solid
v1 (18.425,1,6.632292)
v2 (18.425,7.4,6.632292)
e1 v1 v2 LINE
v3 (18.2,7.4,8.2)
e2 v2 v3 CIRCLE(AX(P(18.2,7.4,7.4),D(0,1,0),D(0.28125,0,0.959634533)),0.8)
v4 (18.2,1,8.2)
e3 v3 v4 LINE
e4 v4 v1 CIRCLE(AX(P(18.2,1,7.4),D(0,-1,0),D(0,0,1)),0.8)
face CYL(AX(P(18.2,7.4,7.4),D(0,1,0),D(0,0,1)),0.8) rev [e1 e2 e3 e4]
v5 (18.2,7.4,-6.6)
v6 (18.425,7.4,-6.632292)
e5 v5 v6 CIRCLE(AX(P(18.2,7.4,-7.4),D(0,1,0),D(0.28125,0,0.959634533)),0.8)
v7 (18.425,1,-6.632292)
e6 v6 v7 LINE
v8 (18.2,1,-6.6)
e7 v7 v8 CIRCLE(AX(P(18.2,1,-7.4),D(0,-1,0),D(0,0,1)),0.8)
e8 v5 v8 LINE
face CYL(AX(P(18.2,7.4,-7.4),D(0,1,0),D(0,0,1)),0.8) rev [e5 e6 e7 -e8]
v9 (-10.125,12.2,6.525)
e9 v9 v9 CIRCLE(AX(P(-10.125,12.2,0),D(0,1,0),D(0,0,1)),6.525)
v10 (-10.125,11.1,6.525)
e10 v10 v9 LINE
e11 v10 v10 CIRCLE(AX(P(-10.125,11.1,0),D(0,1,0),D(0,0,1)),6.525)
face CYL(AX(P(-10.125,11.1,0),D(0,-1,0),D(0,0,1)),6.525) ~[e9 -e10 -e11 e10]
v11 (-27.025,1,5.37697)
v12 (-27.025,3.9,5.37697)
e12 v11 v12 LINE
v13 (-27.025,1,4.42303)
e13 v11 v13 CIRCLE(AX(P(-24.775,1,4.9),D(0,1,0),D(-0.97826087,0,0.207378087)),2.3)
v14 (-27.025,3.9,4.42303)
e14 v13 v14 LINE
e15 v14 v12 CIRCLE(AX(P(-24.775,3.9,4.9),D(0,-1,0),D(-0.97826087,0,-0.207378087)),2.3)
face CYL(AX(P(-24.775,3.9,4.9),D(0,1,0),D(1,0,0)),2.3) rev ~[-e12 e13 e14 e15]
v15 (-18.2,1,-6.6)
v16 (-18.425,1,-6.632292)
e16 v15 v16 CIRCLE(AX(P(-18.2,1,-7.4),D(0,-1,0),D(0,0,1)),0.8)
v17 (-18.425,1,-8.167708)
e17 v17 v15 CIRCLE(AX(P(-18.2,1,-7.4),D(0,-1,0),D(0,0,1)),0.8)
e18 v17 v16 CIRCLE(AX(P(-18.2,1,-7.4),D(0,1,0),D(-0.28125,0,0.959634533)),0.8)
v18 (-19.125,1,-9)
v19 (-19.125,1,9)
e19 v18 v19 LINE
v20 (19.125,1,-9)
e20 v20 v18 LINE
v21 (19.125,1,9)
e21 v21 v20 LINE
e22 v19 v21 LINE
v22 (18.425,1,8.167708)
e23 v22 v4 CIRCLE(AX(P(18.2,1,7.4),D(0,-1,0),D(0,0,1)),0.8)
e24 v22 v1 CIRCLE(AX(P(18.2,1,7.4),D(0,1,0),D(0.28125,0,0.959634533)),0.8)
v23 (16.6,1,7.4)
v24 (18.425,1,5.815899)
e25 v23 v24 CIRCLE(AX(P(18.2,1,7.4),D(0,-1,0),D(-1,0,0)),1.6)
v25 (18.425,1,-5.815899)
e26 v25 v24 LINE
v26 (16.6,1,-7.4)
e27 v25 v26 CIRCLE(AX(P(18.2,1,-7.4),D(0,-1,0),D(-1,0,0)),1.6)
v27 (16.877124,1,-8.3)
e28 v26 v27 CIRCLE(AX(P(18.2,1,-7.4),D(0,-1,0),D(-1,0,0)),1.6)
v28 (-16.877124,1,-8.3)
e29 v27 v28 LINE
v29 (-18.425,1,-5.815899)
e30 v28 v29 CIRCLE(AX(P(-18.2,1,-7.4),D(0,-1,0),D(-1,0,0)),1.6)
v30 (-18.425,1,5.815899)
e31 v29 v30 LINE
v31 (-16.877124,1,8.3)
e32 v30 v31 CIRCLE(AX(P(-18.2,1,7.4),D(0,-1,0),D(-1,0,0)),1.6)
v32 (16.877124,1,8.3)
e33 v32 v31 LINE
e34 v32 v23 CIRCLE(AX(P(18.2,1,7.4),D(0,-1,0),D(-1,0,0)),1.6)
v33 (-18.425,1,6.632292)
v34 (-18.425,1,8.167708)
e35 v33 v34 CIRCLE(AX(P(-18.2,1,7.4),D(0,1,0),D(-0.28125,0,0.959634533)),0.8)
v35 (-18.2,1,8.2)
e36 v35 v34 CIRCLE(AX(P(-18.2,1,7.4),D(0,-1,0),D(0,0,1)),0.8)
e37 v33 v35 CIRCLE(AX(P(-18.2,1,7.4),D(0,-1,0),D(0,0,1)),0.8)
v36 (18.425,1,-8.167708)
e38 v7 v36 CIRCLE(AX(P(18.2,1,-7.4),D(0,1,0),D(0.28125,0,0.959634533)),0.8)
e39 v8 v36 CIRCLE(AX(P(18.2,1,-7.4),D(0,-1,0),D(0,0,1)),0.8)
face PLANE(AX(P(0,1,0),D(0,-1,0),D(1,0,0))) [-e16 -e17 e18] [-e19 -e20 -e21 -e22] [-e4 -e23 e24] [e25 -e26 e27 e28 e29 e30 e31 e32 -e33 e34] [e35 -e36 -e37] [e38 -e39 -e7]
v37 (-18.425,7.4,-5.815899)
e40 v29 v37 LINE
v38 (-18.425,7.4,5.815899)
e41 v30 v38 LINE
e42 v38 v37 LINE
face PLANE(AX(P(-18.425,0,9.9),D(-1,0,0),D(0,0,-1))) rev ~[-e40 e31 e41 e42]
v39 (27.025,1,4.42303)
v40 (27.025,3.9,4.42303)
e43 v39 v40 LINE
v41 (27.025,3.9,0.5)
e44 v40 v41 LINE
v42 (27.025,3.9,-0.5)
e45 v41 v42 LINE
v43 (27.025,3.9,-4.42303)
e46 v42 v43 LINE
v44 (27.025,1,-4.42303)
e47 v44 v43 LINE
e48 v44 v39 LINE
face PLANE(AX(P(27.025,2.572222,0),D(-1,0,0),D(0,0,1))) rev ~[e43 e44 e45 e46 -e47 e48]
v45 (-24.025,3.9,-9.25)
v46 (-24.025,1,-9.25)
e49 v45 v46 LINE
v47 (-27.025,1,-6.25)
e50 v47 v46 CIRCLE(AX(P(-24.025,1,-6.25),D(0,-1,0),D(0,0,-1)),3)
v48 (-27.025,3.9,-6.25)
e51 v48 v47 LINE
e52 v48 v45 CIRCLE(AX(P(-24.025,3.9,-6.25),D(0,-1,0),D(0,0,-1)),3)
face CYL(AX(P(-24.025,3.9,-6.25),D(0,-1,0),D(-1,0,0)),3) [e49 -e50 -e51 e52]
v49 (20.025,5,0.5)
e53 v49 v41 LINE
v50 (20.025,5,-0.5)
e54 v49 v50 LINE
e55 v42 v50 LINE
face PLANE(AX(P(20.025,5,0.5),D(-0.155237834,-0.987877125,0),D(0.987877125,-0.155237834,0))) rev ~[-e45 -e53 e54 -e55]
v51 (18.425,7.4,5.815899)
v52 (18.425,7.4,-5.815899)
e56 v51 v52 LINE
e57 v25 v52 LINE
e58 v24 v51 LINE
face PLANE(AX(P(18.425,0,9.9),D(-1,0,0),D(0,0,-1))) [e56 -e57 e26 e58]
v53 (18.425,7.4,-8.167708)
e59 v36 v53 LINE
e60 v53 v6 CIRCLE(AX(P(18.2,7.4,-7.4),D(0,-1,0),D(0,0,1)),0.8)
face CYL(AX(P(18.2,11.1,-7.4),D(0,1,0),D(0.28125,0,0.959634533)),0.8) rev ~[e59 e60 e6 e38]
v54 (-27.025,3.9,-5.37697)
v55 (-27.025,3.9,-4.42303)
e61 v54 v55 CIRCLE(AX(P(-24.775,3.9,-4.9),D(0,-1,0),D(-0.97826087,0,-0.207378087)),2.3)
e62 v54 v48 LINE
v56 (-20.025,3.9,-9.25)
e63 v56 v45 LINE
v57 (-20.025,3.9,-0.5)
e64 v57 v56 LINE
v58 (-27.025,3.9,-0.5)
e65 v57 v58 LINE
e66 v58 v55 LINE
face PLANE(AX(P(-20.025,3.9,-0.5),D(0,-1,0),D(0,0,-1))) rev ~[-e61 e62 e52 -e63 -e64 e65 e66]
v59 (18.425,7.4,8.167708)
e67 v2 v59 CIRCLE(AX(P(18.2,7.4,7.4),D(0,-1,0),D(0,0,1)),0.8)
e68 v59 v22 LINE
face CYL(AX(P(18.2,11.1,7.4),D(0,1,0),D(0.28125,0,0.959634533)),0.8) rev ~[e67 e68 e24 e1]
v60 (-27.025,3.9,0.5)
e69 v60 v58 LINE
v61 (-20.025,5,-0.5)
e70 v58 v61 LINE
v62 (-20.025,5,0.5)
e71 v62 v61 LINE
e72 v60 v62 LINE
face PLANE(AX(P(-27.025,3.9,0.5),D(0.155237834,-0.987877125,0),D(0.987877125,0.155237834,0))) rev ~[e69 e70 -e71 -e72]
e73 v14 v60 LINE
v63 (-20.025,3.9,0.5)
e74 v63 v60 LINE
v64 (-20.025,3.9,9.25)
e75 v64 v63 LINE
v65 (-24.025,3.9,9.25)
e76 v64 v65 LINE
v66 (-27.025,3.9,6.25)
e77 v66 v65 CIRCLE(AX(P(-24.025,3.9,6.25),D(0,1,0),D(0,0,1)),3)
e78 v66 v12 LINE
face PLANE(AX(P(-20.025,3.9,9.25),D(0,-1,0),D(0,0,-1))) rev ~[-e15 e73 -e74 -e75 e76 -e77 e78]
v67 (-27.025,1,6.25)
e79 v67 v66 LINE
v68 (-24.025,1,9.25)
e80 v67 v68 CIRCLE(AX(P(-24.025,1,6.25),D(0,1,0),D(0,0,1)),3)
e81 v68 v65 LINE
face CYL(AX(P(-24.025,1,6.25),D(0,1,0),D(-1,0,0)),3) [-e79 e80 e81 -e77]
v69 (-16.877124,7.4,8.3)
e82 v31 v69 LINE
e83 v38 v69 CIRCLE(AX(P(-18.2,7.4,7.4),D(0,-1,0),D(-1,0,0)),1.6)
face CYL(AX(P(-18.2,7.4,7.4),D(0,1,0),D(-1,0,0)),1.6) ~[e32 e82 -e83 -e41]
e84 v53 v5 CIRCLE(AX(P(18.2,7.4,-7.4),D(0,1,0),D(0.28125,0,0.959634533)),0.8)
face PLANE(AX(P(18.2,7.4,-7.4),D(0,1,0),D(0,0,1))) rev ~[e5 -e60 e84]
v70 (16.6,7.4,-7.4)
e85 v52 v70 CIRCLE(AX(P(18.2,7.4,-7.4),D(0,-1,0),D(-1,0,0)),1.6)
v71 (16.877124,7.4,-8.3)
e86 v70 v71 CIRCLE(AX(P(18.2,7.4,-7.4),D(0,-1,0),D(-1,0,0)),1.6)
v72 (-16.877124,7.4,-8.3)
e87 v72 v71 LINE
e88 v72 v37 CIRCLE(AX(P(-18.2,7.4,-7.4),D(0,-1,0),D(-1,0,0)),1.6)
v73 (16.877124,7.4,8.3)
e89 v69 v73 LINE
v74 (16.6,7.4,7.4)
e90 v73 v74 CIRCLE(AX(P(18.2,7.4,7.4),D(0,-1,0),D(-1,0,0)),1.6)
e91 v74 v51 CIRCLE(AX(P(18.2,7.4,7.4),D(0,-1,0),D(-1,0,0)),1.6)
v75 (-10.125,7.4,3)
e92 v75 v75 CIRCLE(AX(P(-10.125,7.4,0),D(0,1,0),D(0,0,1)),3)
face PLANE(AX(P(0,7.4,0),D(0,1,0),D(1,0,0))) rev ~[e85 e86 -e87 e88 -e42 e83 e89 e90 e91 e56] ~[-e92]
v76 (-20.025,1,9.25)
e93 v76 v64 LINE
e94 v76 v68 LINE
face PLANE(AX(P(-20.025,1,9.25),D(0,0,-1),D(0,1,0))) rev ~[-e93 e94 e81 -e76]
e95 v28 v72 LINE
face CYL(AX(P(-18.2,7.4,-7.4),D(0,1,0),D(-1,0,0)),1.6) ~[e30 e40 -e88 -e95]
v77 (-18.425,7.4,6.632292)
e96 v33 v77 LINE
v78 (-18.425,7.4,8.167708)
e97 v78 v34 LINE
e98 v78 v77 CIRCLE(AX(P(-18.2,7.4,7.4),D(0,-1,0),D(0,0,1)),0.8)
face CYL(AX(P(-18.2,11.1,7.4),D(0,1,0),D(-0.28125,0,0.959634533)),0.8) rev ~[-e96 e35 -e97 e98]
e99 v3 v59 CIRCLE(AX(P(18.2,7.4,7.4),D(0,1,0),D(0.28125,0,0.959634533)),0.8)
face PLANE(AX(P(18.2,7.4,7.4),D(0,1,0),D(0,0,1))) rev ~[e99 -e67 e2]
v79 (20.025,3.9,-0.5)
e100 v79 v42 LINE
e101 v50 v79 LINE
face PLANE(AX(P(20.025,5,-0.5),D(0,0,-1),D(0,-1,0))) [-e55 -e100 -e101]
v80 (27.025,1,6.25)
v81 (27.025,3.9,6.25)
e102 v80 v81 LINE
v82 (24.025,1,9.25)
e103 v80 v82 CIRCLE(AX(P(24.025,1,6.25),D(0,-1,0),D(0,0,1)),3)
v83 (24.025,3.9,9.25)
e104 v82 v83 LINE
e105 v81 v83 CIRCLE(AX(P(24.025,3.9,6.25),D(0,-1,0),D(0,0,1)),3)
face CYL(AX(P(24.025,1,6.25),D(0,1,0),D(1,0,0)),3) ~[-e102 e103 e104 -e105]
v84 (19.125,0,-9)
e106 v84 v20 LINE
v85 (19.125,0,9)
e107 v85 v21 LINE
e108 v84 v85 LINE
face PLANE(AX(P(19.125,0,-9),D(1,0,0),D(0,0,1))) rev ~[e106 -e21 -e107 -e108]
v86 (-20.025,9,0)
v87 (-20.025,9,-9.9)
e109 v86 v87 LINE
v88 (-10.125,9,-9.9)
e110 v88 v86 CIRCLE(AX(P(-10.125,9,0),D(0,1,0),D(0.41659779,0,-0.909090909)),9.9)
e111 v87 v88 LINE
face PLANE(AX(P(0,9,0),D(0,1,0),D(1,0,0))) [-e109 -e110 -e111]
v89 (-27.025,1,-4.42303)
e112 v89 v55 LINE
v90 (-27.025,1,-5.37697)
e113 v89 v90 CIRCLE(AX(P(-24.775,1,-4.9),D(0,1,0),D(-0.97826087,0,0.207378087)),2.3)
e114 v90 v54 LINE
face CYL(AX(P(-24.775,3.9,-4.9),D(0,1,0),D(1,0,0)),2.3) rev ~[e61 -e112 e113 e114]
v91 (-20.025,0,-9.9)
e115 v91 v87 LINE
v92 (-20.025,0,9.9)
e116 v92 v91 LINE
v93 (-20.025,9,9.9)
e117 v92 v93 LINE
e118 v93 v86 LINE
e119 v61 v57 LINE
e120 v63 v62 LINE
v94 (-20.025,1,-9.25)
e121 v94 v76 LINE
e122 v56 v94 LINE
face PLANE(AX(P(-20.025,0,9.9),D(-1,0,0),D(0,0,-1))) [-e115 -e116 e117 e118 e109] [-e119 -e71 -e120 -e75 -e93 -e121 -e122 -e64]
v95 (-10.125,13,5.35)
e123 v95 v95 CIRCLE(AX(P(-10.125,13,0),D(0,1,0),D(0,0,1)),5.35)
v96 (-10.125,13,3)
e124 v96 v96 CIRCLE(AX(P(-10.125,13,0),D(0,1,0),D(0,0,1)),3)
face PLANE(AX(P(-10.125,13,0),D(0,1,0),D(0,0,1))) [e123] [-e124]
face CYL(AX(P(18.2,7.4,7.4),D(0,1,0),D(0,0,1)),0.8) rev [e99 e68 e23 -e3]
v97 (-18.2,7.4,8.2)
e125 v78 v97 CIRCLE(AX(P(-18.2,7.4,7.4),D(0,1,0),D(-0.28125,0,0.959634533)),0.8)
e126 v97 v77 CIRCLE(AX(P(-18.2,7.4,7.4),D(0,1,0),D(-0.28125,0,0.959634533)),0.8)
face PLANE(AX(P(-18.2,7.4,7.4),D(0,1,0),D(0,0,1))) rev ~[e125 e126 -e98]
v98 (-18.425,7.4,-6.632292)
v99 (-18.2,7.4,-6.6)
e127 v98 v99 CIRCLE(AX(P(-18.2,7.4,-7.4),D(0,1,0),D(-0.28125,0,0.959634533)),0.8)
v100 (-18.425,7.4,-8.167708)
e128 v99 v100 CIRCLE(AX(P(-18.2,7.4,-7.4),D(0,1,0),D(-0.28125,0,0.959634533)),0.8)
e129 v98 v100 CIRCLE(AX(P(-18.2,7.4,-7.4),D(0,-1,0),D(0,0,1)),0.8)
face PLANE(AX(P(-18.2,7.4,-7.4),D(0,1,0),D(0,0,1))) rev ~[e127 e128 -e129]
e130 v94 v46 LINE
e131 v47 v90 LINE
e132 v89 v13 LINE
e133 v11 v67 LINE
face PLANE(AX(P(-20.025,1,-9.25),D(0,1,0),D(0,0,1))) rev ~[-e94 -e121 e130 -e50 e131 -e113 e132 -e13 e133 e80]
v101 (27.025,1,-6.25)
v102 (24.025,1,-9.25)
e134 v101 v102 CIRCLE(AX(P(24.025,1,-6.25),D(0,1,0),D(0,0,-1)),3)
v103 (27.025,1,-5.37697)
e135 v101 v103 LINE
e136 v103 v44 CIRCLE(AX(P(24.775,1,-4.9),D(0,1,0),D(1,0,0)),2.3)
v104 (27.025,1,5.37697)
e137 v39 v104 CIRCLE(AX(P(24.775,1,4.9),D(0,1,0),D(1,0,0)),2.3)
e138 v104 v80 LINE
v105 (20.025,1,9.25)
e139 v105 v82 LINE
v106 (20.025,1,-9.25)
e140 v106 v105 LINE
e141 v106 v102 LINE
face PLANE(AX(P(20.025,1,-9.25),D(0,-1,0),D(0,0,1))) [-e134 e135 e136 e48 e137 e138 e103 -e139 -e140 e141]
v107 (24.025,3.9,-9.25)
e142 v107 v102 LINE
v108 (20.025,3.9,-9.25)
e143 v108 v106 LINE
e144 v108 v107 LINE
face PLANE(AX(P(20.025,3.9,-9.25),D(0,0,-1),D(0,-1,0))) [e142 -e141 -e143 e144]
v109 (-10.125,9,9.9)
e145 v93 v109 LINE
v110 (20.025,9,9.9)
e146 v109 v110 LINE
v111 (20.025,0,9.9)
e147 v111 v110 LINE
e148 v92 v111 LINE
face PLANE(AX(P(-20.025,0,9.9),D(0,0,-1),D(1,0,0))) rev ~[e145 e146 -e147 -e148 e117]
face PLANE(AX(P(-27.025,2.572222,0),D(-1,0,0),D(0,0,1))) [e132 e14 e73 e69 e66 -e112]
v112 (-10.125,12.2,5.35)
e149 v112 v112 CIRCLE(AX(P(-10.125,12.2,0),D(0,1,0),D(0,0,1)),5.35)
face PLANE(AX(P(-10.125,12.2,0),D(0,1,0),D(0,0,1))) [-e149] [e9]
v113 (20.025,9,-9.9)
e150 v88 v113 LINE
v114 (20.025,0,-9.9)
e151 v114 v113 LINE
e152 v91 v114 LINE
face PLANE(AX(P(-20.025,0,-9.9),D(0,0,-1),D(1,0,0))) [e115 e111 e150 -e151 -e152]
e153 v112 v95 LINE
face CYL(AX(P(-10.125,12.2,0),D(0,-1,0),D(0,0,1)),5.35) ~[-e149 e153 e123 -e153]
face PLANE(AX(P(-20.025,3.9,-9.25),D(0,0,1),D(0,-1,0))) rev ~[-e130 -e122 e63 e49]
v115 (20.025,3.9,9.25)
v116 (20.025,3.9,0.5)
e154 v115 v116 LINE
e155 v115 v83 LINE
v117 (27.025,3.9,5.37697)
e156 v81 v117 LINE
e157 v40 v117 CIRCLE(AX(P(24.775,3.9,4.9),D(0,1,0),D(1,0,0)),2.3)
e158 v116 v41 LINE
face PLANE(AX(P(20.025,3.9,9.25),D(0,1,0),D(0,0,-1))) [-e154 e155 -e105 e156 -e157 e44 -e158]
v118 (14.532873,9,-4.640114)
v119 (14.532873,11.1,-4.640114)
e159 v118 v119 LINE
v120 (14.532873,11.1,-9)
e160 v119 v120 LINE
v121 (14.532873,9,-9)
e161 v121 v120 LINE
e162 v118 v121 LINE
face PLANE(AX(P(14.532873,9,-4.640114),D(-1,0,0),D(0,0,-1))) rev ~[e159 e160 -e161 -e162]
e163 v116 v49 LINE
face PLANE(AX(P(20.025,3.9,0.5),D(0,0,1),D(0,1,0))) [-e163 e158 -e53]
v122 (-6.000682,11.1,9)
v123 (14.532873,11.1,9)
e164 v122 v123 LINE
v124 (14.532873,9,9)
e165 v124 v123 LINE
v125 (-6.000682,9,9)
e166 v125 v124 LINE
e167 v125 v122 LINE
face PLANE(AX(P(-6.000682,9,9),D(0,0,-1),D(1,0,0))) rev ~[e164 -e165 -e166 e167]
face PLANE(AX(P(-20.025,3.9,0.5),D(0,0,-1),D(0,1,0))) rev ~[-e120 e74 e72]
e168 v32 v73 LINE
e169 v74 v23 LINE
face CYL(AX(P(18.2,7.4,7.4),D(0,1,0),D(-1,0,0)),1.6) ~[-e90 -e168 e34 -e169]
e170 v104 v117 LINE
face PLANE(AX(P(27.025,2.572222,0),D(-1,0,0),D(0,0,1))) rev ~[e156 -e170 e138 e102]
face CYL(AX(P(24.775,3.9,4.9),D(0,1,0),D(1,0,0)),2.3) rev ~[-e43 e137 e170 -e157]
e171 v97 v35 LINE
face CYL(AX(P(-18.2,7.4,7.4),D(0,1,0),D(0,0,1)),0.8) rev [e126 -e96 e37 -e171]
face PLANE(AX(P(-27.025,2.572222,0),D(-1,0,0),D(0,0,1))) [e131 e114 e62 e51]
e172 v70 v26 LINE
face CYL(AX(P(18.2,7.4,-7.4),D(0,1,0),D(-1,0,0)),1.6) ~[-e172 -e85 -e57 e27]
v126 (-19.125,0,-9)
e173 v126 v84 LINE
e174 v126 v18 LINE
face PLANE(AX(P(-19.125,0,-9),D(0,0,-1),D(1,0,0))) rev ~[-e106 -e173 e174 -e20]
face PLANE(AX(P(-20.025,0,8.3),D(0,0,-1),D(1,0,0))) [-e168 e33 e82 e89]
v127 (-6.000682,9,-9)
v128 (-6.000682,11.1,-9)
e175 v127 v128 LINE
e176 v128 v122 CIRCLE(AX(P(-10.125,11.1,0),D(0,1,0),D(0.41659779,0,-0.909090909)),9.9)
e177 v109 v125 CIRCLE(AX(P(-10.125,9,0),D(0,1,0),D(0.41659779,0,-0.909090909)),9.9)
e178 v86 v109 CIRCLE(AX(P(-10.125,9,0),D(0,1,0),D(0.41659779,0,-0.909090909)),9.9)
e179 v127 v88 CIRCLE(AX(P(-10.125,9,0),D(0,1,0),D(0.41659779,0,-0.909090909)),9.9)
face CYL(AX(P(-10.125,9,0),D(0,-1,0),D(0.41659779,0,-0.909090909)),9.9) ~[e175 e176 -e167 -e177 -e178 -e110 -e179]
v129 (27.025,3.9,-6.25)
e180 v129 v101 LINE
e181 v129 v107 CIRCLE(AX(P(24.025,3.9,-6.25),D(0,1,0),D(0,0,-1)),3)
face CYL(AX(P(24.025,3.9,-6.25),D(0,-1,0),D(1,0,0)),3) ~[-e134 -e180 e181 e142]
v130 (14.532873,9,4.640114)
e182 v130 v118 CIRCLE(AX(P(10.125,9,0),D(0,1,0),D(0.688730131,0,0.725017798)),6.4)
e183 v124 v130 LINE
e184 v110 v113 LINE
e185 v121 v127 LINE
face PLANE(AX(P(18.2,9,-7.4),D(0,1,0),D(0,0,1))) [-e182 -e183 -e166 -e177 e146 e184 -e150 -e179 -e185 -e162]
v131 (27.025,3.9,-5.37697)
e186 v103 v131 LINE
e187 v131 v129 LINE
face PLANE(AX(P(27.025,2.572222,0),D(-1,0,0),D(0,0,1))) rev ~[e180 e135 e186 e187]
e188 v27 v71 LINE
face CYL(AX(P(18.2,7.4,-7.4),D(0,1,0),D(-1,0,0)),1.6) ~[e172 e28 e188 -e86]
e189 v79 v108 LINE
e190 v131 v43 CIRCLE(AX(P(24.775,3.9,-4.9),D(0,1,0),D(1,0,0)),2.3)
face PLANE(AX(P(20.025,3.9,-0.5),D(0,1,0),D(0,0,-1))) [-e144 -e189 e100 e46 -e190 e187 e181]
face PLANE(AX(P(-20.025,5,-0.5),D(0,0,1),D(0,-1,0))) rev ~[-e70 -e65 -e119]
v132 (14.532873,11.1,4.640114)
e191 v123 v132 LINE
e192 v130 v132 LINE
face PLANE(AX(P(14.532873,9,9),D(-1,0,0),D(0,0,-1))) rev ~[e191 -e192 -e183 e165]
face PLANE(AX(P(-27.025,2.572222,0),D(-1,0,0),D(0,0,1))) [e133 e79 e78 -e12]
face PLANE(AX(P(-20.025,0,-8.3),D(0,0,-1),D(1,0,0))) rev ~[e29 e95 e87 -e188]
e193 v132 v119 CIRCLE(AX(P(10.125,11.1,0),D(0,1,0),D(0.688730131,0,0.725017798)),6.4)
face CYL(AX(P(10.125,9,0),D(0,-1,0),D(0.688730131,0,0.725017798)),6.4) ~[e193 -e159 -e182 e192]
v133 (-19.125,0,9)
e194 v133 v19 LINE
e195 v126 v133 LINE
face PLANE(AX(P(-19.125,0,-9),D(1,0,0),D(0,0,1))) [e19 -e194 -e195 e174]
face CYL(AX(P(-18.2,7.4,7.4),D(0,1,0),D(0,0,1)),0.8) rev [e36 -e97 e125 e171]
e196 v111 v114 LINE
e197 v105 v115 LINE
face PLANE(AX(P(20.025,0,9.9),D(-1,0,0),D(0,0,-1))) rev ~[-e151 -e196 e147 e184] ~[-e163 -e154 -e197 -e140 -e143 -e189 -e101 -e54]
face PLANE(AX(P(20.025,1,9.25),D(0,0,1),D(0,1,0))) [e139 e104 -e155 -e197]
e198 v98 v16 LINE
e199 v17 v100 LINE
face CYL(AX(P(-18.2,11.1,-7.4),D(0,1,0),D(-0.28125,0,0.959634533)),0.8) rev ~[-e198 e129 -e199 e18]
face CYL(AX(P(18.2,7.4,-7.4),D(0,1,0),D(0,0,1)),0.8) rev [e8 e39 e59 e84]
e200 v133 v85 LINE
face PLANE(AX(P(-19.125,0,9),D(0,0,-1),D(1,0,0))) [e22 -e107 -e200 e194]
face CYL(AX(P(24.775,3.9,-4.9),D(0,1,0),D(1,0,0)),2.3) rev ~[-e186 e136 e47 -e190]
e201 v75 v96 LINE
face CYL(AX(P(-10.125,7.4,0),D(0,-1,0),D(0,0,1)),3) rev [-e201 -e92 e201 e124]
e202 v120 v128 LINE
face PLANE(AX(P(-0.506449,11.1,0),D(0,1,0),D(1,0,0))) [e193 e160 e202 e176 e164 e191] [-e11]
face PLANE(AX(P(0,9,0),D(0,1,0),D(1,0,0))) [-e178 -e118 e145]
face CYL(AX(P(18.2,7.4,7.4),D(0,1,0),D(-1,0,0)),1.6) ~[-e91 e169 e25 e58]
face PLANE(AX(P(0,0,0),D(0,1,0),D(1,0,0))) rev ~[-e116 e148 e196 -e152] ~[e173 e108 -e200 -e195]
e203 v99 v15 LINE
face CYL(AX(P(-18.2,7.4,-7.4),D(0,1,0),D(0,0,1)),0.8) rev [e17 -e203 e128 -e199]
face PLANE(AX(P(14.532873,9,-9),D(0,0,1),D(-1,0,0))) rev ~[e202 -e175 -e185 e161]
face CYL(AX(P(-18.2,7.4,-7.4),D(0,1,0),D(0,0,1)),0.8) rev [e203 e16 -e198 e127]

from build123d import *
from build123d.topology import SkipClean

# Parameters (mm, degrees)
SKETCH_1_W          = 40.05
SKETCH_1_H          = 19.8
EXTRUDE_1_DEPTH     = 9
SHELL_1_T           = -1.6
SKETCH_2_W          = 38.25
SKETCH_2_H          = 18
CUT_EXTRUDE_1_DEPTH = 1
EXTRUDE_2_DEPTH     = 2.1
SKETCH_4_R          = 6.525
EXTRUDE_3_DEPTH     = 1.1
SKETCH_5_R          = 5.35
EXTRUDE_4_DEPTH     = 0.8
CUT_EXTRUDE_START   = -5.6
SKETCH_6_R          = 3
CUT_EXTRUDE_2_DEPTH = 5.6
SKETCH_7_R          = 0.8
CUT_EXTRUDE_3_DEPTH = 14
SKETCH_8_R          = 1.6
SKETCH_8_R_2        = 0.8
EXTRUDE_5_DEPTH     = 6.4
SKETCH_9_R          = 0.8
EXTRUDE_6_DEPTH     = 1.6
EXTRUDE_7_DEPTH     = 7
CUT_EXTRUDE_4_DEPTH = 7
SKETCH_12_R         = 2.3
CUT_EXTRUDE_5_DEPTH = 7
EXTRUDE_8_DEPTH     = 7
SKETCH_16_R         = 2.3
CUT_EXTRUDE_6_DEPTH = 7
FILLET_1_R          = 3
CUT_EXTRUDE_7_DEPTH = 7


with BuildPart() as part:
    # Эскиз1 → Бобышка-Вытянуть1 (new body)
    with BuildSketch(Plane(origin=(0, 0, 0), x_dir=(1, 0, 0), z_dir=(0, 1, 0))):
        Rectangle(SKETCH_1_W, SKETCH_1_H)
    extrude(amount=EXTRUDE_1_DEPTH)

    # Оболочка1
    shell_1_openings = [part.faces().sort_by_distance(p)[0] for p in [
        (0, 0, 0),
    ]]
    offset(amount=SHELL_1_T, openings=shell_1_openings, kind=Kind.INTERSECTION)

    # Эскиз2 → Вырез-Вытянуть1 (cut)
    with BuildSketch(Plane.XZ):
        Rectangle(SKETCH_2_W, SKETCH_2_H)
    extrude(amount=-CUT_EXTRUDE_1_DEPTH, mode=Mode.SUBTRACT)

    # Эскиз3 → Бобышка-Вытянуть2 (add)
    with BuildSketch(Plane(origin=(0, 9, 0), x_dir=(1, 0, 0), z_dir=(0, 1, 0))):
        with BuildLine():
            Line((14.532872835, 4.640113908), (14.532872835, 9))
            Line((14.532872835, 9), (-6.000681875, 9))
            ThreePointArc((-6.000681875, 9), (-20.025, 0), (-6.000681875, -9))
            Line((-6.000681875, -9), (14.532872835, -9))
            Line((14.532872835, -9), (14.532872835, -4.640113908))
            ThreePointArc((14.532872835, -4.640113908), (16.525, 0), (14.532872835, 4.640113908))
        make_face()
    extrude(amount=EXTRUDE_2_DEPTH)

    # Эскиз4 → Бобышка-Вытянуть3 (add)
    with BuildSketch(Plane(origin=(0, 11.1, 0), x_dir=(1, 0, 0), z_dir=(0, 1, 0))):
        with Locations(Location((-10.125, 0, 0), (0, 0, 270))):
            Circle(SKETCH_4_R)
    extrude(amount=EXTRUDE_3_DEPTH)

    # Эскиз5 → Бобышка-Вытянуть4 (add)
    with BuildSketch(Plane(origin=(0, 12.2, 0), x_dir=(1, 0, 0), z_dir=(0, 1, 0))):
        with Locations(Location((-10.125, 0, 0), (0, 0, 270))):
            Circle(SKETCH_5_R)
    extrude(amount=EXTRUDE_4_DEPTH)

    # Эскиз6 → Вырез-Вытянуть2 (cut)
    with BuildSketch(Plane(origin=(0, 13, 0), x_dir=(1, 0, 0), z_dir=(0, 1, 0)).offset(CUT_EXTRUDE_START)):
        with Locations(Location((-10.125, 0, 0), (0, 0, 270))):
            Circle(SKETCH_6_R)
    extrude(amount=CUT_EXTRUDE_2_DEPTH, mode=Mode.SUBTRACT)

    # Эскиз7 → Вырез-Вытянуть3 (cut)
    with BuildSketch(Plane(origin=(0, 11.1, 0), x_dir=(1, 0, 0), z_dir=(0, 1, 0))):
        with Locations(Location((-18.2, 7.4, 0), (0, 0, 253.665177219))):
            Circle(SKETCH_7_R)
        with Locations(Location((18.2, 7.4, 0), (0, 0, 286.334822781))):
            Circle(SKETCH_7_R)
        with Locations(Location((18.2, -7.4, 0), (0, 0, 286.334822781))):
            Circle(SKETCH_7_R)
        with Locations(Location((-18.2, -7.4, 0), (0, 0, 253.665177219))):
            Circle(SKETCH_7_R)
    extrude(amount=-CUT_EXTRUDE_3_DEPTH, mode=Mode.SUBTRACT)

    # Эскиз8 → Бобышка-Вытянуть5 (add)
    # profile 1 of 4: a face of its own
    with SkipClean():  # the faces are left unmerged after this step: merging them gives an invalid solid
        with BuildSketch(Plane(origin=(0, 7.4, 0), x_dir=(-1, 0, 0), z_dir=(0, -1, 0))):
            with Locations((18.2, -7.4)):
                Circle(SKETCH_8_R)
            with Locations(Location((18.2, -7.4, 0), (0, 0, 270))):
                Circle(SKETCH_8_R_2, mode=Mode.SUBTRACT)
        # profile 2 of 4: a face of its own
        with BuildSketch(Plane(origin=(0, 7.4, 0), x_dir=(-1, 0, 0), z_dir=(0, -1, 0))):
            with Locations((18.2, 7.4)):
                Circle(SKETCH_8_R)
            with Locations(Location((18.2, 7.4, 0), (0, 0, 270))):
                Circle(SKETCH_8_R_2, mode=Mode.SUBTRACT)
        # profile 3 of 4: a face of its own
        with BuildSketch(Plane(origin=(0, 7.4, 0), x_dir=(-1, 0, 0), z_dir=(0, -1, 0))):
            with Locations((-18.2, 7.4)):
                Circle(SKETCH_8_R)
            with Locations(Location((-18.2, 7.4, 0), (0, 0, 270))):
                Circle(SKETCH_8_R_2, mode=Mode.SUBTRACT)
        # profile 4 of 4: a face of its own
        with BuildSketch(Plane(origin=(0, 7.4, 0), x_dir=(-1, 0, 0), z_dir=(0, -1, 0))):
            with Locations((-18.2, -7.4)):
                Circle(SKETCH_8_R)
            with Locations(Location((-18.2, -7.4, 0), (0, 0, 270))):
                Circle(SKETCH_8_R_2, mode=Mode.SUBTRACT)
        extrude(amount=EXTRUDE_5_DEPTH)

    # Эскиз9 → Бобышка-Вытянуть6 (add)
    with BuildSketch(Plane(origin=(0, 9, 0), x_dir=(1, 0, 0), z_dir=(0, 1, 0))):
        with Locations(Location((18.2, 7.4, 0), (0, 0, 270))):
            Circle(SKETCH_9_R)
        with Locations(Location((18.2, -7.4, 0), (0, 0, 270))):
            Circle(SKETCH_9_R)
        with Locations(Location((-18.2, -7.4, 0), (0, 0, 270))):
            Circle(SKETCH_9_R)
        with Locations(Location((-18.2, 7.4, 0), (0, 0, 270))):
            Circle(SKETCH_9_R)
    extrude(amount=-EXTRUDE_6_DEPTH)

    # Эскиз10 → Бобышка-Вытянуть7 (add)
    with BuildSketch(Plane(origin=(20.025, 0, 0), x_dir=(0, 0, -1), z_dir=(1, 0, 0))):
        Polygon((9.25, 1), (-9.25, 1), (-9.25, 3.9), (-0.5, 3.9), (-0.5, 5), (0.5, 5), (0.5, 3.9), (9.25, 3.9), align=None)
    extrude(amount=EXTRUDE_7_DEPTH)

    # Эскиз11 → Вырез-Вытянуть4 (cut)
    with BuildSketch(Plane.XY.offset(0.5)):
        Polygon((20.025, 5), (27.025, 3.9), (27.025, 5), align=None)
    extrude(amount=-CUT_EXTRUDE_4_DEPTH, mode=Mode.SUBTRACT)

    # Эскиз12 → Вырез-Вытянуть5 (cut)
    with BuildSketch(Plane(origin=(0, 3.9, 0), x_dir=(1, 0, 0), z_dir=(0, 1, 0))):
        with Locations((24.775, -4.9)):
            Circle(SKETCH_12_R)
        with Locations((24.775, 4.9)):
            Circle(SKETCH_12_R)
    extrude(amount=-CUT_EXTRUDE_5_DEPTH, mode=Mode.SUBTRACT)

    # Эскиз15 → Бобышка-Вытянуть8 (add)
    with BuildSketch(Plane.ZY.offset(20.025)):
        Polygon((-0.5, 3.9), (-9.25, 3.9), (-9.25, 1), (9.25, 1), (9.25, 3.9), (0.5, 3.9), (0.5, 5), (-0.5, 5), align=None)
    extrude(amount=EXTRUDE_8_DEPTH)

    # Эскиз16 → Вырез-Вытянуть6 (cut)
    with BuildSketch(Plane(origin=(0, 3.9, 0), x_dir=(1, 0, 0), z_dir=(0, 1, 0))):
        with Locations((-24.775, 4.9)):
            Circle(SKETCH_16_R)
        with Locations((-24.775, -4.9)):
            Circle(SKETCH_16_R)
    extrude(amount=-CUT_EXTRUDE_6_DEPTH, mode=Mode.SUBTRACT)

    # Скругление1
    fillet_1_edges = [part.edges().sort_by_distance(p)[0] for p in [
        (27.025, 2.45, -9.25),
        (27.025, 2.45, 9.25),
        (-27.025, 2.45, 9.25),
        (-27.025, 2.45, -9.25),
    ]]
    fillet(fillet_1_edges, radius=FILLET_1_R)

    # Эскиз17 → Вырез-Вытянуть7 (cut)
    with BuildSketch(Plane.XY.offset(0.5)):
        Polygon((-27.025, 3.9), (-20.025, 5), (-27.025, 5), align=None)
    extrude(amount=-CUT_EXTRUDE_7_DEPTH, mode=Mode.SUBTRACT)


solid = part.part
